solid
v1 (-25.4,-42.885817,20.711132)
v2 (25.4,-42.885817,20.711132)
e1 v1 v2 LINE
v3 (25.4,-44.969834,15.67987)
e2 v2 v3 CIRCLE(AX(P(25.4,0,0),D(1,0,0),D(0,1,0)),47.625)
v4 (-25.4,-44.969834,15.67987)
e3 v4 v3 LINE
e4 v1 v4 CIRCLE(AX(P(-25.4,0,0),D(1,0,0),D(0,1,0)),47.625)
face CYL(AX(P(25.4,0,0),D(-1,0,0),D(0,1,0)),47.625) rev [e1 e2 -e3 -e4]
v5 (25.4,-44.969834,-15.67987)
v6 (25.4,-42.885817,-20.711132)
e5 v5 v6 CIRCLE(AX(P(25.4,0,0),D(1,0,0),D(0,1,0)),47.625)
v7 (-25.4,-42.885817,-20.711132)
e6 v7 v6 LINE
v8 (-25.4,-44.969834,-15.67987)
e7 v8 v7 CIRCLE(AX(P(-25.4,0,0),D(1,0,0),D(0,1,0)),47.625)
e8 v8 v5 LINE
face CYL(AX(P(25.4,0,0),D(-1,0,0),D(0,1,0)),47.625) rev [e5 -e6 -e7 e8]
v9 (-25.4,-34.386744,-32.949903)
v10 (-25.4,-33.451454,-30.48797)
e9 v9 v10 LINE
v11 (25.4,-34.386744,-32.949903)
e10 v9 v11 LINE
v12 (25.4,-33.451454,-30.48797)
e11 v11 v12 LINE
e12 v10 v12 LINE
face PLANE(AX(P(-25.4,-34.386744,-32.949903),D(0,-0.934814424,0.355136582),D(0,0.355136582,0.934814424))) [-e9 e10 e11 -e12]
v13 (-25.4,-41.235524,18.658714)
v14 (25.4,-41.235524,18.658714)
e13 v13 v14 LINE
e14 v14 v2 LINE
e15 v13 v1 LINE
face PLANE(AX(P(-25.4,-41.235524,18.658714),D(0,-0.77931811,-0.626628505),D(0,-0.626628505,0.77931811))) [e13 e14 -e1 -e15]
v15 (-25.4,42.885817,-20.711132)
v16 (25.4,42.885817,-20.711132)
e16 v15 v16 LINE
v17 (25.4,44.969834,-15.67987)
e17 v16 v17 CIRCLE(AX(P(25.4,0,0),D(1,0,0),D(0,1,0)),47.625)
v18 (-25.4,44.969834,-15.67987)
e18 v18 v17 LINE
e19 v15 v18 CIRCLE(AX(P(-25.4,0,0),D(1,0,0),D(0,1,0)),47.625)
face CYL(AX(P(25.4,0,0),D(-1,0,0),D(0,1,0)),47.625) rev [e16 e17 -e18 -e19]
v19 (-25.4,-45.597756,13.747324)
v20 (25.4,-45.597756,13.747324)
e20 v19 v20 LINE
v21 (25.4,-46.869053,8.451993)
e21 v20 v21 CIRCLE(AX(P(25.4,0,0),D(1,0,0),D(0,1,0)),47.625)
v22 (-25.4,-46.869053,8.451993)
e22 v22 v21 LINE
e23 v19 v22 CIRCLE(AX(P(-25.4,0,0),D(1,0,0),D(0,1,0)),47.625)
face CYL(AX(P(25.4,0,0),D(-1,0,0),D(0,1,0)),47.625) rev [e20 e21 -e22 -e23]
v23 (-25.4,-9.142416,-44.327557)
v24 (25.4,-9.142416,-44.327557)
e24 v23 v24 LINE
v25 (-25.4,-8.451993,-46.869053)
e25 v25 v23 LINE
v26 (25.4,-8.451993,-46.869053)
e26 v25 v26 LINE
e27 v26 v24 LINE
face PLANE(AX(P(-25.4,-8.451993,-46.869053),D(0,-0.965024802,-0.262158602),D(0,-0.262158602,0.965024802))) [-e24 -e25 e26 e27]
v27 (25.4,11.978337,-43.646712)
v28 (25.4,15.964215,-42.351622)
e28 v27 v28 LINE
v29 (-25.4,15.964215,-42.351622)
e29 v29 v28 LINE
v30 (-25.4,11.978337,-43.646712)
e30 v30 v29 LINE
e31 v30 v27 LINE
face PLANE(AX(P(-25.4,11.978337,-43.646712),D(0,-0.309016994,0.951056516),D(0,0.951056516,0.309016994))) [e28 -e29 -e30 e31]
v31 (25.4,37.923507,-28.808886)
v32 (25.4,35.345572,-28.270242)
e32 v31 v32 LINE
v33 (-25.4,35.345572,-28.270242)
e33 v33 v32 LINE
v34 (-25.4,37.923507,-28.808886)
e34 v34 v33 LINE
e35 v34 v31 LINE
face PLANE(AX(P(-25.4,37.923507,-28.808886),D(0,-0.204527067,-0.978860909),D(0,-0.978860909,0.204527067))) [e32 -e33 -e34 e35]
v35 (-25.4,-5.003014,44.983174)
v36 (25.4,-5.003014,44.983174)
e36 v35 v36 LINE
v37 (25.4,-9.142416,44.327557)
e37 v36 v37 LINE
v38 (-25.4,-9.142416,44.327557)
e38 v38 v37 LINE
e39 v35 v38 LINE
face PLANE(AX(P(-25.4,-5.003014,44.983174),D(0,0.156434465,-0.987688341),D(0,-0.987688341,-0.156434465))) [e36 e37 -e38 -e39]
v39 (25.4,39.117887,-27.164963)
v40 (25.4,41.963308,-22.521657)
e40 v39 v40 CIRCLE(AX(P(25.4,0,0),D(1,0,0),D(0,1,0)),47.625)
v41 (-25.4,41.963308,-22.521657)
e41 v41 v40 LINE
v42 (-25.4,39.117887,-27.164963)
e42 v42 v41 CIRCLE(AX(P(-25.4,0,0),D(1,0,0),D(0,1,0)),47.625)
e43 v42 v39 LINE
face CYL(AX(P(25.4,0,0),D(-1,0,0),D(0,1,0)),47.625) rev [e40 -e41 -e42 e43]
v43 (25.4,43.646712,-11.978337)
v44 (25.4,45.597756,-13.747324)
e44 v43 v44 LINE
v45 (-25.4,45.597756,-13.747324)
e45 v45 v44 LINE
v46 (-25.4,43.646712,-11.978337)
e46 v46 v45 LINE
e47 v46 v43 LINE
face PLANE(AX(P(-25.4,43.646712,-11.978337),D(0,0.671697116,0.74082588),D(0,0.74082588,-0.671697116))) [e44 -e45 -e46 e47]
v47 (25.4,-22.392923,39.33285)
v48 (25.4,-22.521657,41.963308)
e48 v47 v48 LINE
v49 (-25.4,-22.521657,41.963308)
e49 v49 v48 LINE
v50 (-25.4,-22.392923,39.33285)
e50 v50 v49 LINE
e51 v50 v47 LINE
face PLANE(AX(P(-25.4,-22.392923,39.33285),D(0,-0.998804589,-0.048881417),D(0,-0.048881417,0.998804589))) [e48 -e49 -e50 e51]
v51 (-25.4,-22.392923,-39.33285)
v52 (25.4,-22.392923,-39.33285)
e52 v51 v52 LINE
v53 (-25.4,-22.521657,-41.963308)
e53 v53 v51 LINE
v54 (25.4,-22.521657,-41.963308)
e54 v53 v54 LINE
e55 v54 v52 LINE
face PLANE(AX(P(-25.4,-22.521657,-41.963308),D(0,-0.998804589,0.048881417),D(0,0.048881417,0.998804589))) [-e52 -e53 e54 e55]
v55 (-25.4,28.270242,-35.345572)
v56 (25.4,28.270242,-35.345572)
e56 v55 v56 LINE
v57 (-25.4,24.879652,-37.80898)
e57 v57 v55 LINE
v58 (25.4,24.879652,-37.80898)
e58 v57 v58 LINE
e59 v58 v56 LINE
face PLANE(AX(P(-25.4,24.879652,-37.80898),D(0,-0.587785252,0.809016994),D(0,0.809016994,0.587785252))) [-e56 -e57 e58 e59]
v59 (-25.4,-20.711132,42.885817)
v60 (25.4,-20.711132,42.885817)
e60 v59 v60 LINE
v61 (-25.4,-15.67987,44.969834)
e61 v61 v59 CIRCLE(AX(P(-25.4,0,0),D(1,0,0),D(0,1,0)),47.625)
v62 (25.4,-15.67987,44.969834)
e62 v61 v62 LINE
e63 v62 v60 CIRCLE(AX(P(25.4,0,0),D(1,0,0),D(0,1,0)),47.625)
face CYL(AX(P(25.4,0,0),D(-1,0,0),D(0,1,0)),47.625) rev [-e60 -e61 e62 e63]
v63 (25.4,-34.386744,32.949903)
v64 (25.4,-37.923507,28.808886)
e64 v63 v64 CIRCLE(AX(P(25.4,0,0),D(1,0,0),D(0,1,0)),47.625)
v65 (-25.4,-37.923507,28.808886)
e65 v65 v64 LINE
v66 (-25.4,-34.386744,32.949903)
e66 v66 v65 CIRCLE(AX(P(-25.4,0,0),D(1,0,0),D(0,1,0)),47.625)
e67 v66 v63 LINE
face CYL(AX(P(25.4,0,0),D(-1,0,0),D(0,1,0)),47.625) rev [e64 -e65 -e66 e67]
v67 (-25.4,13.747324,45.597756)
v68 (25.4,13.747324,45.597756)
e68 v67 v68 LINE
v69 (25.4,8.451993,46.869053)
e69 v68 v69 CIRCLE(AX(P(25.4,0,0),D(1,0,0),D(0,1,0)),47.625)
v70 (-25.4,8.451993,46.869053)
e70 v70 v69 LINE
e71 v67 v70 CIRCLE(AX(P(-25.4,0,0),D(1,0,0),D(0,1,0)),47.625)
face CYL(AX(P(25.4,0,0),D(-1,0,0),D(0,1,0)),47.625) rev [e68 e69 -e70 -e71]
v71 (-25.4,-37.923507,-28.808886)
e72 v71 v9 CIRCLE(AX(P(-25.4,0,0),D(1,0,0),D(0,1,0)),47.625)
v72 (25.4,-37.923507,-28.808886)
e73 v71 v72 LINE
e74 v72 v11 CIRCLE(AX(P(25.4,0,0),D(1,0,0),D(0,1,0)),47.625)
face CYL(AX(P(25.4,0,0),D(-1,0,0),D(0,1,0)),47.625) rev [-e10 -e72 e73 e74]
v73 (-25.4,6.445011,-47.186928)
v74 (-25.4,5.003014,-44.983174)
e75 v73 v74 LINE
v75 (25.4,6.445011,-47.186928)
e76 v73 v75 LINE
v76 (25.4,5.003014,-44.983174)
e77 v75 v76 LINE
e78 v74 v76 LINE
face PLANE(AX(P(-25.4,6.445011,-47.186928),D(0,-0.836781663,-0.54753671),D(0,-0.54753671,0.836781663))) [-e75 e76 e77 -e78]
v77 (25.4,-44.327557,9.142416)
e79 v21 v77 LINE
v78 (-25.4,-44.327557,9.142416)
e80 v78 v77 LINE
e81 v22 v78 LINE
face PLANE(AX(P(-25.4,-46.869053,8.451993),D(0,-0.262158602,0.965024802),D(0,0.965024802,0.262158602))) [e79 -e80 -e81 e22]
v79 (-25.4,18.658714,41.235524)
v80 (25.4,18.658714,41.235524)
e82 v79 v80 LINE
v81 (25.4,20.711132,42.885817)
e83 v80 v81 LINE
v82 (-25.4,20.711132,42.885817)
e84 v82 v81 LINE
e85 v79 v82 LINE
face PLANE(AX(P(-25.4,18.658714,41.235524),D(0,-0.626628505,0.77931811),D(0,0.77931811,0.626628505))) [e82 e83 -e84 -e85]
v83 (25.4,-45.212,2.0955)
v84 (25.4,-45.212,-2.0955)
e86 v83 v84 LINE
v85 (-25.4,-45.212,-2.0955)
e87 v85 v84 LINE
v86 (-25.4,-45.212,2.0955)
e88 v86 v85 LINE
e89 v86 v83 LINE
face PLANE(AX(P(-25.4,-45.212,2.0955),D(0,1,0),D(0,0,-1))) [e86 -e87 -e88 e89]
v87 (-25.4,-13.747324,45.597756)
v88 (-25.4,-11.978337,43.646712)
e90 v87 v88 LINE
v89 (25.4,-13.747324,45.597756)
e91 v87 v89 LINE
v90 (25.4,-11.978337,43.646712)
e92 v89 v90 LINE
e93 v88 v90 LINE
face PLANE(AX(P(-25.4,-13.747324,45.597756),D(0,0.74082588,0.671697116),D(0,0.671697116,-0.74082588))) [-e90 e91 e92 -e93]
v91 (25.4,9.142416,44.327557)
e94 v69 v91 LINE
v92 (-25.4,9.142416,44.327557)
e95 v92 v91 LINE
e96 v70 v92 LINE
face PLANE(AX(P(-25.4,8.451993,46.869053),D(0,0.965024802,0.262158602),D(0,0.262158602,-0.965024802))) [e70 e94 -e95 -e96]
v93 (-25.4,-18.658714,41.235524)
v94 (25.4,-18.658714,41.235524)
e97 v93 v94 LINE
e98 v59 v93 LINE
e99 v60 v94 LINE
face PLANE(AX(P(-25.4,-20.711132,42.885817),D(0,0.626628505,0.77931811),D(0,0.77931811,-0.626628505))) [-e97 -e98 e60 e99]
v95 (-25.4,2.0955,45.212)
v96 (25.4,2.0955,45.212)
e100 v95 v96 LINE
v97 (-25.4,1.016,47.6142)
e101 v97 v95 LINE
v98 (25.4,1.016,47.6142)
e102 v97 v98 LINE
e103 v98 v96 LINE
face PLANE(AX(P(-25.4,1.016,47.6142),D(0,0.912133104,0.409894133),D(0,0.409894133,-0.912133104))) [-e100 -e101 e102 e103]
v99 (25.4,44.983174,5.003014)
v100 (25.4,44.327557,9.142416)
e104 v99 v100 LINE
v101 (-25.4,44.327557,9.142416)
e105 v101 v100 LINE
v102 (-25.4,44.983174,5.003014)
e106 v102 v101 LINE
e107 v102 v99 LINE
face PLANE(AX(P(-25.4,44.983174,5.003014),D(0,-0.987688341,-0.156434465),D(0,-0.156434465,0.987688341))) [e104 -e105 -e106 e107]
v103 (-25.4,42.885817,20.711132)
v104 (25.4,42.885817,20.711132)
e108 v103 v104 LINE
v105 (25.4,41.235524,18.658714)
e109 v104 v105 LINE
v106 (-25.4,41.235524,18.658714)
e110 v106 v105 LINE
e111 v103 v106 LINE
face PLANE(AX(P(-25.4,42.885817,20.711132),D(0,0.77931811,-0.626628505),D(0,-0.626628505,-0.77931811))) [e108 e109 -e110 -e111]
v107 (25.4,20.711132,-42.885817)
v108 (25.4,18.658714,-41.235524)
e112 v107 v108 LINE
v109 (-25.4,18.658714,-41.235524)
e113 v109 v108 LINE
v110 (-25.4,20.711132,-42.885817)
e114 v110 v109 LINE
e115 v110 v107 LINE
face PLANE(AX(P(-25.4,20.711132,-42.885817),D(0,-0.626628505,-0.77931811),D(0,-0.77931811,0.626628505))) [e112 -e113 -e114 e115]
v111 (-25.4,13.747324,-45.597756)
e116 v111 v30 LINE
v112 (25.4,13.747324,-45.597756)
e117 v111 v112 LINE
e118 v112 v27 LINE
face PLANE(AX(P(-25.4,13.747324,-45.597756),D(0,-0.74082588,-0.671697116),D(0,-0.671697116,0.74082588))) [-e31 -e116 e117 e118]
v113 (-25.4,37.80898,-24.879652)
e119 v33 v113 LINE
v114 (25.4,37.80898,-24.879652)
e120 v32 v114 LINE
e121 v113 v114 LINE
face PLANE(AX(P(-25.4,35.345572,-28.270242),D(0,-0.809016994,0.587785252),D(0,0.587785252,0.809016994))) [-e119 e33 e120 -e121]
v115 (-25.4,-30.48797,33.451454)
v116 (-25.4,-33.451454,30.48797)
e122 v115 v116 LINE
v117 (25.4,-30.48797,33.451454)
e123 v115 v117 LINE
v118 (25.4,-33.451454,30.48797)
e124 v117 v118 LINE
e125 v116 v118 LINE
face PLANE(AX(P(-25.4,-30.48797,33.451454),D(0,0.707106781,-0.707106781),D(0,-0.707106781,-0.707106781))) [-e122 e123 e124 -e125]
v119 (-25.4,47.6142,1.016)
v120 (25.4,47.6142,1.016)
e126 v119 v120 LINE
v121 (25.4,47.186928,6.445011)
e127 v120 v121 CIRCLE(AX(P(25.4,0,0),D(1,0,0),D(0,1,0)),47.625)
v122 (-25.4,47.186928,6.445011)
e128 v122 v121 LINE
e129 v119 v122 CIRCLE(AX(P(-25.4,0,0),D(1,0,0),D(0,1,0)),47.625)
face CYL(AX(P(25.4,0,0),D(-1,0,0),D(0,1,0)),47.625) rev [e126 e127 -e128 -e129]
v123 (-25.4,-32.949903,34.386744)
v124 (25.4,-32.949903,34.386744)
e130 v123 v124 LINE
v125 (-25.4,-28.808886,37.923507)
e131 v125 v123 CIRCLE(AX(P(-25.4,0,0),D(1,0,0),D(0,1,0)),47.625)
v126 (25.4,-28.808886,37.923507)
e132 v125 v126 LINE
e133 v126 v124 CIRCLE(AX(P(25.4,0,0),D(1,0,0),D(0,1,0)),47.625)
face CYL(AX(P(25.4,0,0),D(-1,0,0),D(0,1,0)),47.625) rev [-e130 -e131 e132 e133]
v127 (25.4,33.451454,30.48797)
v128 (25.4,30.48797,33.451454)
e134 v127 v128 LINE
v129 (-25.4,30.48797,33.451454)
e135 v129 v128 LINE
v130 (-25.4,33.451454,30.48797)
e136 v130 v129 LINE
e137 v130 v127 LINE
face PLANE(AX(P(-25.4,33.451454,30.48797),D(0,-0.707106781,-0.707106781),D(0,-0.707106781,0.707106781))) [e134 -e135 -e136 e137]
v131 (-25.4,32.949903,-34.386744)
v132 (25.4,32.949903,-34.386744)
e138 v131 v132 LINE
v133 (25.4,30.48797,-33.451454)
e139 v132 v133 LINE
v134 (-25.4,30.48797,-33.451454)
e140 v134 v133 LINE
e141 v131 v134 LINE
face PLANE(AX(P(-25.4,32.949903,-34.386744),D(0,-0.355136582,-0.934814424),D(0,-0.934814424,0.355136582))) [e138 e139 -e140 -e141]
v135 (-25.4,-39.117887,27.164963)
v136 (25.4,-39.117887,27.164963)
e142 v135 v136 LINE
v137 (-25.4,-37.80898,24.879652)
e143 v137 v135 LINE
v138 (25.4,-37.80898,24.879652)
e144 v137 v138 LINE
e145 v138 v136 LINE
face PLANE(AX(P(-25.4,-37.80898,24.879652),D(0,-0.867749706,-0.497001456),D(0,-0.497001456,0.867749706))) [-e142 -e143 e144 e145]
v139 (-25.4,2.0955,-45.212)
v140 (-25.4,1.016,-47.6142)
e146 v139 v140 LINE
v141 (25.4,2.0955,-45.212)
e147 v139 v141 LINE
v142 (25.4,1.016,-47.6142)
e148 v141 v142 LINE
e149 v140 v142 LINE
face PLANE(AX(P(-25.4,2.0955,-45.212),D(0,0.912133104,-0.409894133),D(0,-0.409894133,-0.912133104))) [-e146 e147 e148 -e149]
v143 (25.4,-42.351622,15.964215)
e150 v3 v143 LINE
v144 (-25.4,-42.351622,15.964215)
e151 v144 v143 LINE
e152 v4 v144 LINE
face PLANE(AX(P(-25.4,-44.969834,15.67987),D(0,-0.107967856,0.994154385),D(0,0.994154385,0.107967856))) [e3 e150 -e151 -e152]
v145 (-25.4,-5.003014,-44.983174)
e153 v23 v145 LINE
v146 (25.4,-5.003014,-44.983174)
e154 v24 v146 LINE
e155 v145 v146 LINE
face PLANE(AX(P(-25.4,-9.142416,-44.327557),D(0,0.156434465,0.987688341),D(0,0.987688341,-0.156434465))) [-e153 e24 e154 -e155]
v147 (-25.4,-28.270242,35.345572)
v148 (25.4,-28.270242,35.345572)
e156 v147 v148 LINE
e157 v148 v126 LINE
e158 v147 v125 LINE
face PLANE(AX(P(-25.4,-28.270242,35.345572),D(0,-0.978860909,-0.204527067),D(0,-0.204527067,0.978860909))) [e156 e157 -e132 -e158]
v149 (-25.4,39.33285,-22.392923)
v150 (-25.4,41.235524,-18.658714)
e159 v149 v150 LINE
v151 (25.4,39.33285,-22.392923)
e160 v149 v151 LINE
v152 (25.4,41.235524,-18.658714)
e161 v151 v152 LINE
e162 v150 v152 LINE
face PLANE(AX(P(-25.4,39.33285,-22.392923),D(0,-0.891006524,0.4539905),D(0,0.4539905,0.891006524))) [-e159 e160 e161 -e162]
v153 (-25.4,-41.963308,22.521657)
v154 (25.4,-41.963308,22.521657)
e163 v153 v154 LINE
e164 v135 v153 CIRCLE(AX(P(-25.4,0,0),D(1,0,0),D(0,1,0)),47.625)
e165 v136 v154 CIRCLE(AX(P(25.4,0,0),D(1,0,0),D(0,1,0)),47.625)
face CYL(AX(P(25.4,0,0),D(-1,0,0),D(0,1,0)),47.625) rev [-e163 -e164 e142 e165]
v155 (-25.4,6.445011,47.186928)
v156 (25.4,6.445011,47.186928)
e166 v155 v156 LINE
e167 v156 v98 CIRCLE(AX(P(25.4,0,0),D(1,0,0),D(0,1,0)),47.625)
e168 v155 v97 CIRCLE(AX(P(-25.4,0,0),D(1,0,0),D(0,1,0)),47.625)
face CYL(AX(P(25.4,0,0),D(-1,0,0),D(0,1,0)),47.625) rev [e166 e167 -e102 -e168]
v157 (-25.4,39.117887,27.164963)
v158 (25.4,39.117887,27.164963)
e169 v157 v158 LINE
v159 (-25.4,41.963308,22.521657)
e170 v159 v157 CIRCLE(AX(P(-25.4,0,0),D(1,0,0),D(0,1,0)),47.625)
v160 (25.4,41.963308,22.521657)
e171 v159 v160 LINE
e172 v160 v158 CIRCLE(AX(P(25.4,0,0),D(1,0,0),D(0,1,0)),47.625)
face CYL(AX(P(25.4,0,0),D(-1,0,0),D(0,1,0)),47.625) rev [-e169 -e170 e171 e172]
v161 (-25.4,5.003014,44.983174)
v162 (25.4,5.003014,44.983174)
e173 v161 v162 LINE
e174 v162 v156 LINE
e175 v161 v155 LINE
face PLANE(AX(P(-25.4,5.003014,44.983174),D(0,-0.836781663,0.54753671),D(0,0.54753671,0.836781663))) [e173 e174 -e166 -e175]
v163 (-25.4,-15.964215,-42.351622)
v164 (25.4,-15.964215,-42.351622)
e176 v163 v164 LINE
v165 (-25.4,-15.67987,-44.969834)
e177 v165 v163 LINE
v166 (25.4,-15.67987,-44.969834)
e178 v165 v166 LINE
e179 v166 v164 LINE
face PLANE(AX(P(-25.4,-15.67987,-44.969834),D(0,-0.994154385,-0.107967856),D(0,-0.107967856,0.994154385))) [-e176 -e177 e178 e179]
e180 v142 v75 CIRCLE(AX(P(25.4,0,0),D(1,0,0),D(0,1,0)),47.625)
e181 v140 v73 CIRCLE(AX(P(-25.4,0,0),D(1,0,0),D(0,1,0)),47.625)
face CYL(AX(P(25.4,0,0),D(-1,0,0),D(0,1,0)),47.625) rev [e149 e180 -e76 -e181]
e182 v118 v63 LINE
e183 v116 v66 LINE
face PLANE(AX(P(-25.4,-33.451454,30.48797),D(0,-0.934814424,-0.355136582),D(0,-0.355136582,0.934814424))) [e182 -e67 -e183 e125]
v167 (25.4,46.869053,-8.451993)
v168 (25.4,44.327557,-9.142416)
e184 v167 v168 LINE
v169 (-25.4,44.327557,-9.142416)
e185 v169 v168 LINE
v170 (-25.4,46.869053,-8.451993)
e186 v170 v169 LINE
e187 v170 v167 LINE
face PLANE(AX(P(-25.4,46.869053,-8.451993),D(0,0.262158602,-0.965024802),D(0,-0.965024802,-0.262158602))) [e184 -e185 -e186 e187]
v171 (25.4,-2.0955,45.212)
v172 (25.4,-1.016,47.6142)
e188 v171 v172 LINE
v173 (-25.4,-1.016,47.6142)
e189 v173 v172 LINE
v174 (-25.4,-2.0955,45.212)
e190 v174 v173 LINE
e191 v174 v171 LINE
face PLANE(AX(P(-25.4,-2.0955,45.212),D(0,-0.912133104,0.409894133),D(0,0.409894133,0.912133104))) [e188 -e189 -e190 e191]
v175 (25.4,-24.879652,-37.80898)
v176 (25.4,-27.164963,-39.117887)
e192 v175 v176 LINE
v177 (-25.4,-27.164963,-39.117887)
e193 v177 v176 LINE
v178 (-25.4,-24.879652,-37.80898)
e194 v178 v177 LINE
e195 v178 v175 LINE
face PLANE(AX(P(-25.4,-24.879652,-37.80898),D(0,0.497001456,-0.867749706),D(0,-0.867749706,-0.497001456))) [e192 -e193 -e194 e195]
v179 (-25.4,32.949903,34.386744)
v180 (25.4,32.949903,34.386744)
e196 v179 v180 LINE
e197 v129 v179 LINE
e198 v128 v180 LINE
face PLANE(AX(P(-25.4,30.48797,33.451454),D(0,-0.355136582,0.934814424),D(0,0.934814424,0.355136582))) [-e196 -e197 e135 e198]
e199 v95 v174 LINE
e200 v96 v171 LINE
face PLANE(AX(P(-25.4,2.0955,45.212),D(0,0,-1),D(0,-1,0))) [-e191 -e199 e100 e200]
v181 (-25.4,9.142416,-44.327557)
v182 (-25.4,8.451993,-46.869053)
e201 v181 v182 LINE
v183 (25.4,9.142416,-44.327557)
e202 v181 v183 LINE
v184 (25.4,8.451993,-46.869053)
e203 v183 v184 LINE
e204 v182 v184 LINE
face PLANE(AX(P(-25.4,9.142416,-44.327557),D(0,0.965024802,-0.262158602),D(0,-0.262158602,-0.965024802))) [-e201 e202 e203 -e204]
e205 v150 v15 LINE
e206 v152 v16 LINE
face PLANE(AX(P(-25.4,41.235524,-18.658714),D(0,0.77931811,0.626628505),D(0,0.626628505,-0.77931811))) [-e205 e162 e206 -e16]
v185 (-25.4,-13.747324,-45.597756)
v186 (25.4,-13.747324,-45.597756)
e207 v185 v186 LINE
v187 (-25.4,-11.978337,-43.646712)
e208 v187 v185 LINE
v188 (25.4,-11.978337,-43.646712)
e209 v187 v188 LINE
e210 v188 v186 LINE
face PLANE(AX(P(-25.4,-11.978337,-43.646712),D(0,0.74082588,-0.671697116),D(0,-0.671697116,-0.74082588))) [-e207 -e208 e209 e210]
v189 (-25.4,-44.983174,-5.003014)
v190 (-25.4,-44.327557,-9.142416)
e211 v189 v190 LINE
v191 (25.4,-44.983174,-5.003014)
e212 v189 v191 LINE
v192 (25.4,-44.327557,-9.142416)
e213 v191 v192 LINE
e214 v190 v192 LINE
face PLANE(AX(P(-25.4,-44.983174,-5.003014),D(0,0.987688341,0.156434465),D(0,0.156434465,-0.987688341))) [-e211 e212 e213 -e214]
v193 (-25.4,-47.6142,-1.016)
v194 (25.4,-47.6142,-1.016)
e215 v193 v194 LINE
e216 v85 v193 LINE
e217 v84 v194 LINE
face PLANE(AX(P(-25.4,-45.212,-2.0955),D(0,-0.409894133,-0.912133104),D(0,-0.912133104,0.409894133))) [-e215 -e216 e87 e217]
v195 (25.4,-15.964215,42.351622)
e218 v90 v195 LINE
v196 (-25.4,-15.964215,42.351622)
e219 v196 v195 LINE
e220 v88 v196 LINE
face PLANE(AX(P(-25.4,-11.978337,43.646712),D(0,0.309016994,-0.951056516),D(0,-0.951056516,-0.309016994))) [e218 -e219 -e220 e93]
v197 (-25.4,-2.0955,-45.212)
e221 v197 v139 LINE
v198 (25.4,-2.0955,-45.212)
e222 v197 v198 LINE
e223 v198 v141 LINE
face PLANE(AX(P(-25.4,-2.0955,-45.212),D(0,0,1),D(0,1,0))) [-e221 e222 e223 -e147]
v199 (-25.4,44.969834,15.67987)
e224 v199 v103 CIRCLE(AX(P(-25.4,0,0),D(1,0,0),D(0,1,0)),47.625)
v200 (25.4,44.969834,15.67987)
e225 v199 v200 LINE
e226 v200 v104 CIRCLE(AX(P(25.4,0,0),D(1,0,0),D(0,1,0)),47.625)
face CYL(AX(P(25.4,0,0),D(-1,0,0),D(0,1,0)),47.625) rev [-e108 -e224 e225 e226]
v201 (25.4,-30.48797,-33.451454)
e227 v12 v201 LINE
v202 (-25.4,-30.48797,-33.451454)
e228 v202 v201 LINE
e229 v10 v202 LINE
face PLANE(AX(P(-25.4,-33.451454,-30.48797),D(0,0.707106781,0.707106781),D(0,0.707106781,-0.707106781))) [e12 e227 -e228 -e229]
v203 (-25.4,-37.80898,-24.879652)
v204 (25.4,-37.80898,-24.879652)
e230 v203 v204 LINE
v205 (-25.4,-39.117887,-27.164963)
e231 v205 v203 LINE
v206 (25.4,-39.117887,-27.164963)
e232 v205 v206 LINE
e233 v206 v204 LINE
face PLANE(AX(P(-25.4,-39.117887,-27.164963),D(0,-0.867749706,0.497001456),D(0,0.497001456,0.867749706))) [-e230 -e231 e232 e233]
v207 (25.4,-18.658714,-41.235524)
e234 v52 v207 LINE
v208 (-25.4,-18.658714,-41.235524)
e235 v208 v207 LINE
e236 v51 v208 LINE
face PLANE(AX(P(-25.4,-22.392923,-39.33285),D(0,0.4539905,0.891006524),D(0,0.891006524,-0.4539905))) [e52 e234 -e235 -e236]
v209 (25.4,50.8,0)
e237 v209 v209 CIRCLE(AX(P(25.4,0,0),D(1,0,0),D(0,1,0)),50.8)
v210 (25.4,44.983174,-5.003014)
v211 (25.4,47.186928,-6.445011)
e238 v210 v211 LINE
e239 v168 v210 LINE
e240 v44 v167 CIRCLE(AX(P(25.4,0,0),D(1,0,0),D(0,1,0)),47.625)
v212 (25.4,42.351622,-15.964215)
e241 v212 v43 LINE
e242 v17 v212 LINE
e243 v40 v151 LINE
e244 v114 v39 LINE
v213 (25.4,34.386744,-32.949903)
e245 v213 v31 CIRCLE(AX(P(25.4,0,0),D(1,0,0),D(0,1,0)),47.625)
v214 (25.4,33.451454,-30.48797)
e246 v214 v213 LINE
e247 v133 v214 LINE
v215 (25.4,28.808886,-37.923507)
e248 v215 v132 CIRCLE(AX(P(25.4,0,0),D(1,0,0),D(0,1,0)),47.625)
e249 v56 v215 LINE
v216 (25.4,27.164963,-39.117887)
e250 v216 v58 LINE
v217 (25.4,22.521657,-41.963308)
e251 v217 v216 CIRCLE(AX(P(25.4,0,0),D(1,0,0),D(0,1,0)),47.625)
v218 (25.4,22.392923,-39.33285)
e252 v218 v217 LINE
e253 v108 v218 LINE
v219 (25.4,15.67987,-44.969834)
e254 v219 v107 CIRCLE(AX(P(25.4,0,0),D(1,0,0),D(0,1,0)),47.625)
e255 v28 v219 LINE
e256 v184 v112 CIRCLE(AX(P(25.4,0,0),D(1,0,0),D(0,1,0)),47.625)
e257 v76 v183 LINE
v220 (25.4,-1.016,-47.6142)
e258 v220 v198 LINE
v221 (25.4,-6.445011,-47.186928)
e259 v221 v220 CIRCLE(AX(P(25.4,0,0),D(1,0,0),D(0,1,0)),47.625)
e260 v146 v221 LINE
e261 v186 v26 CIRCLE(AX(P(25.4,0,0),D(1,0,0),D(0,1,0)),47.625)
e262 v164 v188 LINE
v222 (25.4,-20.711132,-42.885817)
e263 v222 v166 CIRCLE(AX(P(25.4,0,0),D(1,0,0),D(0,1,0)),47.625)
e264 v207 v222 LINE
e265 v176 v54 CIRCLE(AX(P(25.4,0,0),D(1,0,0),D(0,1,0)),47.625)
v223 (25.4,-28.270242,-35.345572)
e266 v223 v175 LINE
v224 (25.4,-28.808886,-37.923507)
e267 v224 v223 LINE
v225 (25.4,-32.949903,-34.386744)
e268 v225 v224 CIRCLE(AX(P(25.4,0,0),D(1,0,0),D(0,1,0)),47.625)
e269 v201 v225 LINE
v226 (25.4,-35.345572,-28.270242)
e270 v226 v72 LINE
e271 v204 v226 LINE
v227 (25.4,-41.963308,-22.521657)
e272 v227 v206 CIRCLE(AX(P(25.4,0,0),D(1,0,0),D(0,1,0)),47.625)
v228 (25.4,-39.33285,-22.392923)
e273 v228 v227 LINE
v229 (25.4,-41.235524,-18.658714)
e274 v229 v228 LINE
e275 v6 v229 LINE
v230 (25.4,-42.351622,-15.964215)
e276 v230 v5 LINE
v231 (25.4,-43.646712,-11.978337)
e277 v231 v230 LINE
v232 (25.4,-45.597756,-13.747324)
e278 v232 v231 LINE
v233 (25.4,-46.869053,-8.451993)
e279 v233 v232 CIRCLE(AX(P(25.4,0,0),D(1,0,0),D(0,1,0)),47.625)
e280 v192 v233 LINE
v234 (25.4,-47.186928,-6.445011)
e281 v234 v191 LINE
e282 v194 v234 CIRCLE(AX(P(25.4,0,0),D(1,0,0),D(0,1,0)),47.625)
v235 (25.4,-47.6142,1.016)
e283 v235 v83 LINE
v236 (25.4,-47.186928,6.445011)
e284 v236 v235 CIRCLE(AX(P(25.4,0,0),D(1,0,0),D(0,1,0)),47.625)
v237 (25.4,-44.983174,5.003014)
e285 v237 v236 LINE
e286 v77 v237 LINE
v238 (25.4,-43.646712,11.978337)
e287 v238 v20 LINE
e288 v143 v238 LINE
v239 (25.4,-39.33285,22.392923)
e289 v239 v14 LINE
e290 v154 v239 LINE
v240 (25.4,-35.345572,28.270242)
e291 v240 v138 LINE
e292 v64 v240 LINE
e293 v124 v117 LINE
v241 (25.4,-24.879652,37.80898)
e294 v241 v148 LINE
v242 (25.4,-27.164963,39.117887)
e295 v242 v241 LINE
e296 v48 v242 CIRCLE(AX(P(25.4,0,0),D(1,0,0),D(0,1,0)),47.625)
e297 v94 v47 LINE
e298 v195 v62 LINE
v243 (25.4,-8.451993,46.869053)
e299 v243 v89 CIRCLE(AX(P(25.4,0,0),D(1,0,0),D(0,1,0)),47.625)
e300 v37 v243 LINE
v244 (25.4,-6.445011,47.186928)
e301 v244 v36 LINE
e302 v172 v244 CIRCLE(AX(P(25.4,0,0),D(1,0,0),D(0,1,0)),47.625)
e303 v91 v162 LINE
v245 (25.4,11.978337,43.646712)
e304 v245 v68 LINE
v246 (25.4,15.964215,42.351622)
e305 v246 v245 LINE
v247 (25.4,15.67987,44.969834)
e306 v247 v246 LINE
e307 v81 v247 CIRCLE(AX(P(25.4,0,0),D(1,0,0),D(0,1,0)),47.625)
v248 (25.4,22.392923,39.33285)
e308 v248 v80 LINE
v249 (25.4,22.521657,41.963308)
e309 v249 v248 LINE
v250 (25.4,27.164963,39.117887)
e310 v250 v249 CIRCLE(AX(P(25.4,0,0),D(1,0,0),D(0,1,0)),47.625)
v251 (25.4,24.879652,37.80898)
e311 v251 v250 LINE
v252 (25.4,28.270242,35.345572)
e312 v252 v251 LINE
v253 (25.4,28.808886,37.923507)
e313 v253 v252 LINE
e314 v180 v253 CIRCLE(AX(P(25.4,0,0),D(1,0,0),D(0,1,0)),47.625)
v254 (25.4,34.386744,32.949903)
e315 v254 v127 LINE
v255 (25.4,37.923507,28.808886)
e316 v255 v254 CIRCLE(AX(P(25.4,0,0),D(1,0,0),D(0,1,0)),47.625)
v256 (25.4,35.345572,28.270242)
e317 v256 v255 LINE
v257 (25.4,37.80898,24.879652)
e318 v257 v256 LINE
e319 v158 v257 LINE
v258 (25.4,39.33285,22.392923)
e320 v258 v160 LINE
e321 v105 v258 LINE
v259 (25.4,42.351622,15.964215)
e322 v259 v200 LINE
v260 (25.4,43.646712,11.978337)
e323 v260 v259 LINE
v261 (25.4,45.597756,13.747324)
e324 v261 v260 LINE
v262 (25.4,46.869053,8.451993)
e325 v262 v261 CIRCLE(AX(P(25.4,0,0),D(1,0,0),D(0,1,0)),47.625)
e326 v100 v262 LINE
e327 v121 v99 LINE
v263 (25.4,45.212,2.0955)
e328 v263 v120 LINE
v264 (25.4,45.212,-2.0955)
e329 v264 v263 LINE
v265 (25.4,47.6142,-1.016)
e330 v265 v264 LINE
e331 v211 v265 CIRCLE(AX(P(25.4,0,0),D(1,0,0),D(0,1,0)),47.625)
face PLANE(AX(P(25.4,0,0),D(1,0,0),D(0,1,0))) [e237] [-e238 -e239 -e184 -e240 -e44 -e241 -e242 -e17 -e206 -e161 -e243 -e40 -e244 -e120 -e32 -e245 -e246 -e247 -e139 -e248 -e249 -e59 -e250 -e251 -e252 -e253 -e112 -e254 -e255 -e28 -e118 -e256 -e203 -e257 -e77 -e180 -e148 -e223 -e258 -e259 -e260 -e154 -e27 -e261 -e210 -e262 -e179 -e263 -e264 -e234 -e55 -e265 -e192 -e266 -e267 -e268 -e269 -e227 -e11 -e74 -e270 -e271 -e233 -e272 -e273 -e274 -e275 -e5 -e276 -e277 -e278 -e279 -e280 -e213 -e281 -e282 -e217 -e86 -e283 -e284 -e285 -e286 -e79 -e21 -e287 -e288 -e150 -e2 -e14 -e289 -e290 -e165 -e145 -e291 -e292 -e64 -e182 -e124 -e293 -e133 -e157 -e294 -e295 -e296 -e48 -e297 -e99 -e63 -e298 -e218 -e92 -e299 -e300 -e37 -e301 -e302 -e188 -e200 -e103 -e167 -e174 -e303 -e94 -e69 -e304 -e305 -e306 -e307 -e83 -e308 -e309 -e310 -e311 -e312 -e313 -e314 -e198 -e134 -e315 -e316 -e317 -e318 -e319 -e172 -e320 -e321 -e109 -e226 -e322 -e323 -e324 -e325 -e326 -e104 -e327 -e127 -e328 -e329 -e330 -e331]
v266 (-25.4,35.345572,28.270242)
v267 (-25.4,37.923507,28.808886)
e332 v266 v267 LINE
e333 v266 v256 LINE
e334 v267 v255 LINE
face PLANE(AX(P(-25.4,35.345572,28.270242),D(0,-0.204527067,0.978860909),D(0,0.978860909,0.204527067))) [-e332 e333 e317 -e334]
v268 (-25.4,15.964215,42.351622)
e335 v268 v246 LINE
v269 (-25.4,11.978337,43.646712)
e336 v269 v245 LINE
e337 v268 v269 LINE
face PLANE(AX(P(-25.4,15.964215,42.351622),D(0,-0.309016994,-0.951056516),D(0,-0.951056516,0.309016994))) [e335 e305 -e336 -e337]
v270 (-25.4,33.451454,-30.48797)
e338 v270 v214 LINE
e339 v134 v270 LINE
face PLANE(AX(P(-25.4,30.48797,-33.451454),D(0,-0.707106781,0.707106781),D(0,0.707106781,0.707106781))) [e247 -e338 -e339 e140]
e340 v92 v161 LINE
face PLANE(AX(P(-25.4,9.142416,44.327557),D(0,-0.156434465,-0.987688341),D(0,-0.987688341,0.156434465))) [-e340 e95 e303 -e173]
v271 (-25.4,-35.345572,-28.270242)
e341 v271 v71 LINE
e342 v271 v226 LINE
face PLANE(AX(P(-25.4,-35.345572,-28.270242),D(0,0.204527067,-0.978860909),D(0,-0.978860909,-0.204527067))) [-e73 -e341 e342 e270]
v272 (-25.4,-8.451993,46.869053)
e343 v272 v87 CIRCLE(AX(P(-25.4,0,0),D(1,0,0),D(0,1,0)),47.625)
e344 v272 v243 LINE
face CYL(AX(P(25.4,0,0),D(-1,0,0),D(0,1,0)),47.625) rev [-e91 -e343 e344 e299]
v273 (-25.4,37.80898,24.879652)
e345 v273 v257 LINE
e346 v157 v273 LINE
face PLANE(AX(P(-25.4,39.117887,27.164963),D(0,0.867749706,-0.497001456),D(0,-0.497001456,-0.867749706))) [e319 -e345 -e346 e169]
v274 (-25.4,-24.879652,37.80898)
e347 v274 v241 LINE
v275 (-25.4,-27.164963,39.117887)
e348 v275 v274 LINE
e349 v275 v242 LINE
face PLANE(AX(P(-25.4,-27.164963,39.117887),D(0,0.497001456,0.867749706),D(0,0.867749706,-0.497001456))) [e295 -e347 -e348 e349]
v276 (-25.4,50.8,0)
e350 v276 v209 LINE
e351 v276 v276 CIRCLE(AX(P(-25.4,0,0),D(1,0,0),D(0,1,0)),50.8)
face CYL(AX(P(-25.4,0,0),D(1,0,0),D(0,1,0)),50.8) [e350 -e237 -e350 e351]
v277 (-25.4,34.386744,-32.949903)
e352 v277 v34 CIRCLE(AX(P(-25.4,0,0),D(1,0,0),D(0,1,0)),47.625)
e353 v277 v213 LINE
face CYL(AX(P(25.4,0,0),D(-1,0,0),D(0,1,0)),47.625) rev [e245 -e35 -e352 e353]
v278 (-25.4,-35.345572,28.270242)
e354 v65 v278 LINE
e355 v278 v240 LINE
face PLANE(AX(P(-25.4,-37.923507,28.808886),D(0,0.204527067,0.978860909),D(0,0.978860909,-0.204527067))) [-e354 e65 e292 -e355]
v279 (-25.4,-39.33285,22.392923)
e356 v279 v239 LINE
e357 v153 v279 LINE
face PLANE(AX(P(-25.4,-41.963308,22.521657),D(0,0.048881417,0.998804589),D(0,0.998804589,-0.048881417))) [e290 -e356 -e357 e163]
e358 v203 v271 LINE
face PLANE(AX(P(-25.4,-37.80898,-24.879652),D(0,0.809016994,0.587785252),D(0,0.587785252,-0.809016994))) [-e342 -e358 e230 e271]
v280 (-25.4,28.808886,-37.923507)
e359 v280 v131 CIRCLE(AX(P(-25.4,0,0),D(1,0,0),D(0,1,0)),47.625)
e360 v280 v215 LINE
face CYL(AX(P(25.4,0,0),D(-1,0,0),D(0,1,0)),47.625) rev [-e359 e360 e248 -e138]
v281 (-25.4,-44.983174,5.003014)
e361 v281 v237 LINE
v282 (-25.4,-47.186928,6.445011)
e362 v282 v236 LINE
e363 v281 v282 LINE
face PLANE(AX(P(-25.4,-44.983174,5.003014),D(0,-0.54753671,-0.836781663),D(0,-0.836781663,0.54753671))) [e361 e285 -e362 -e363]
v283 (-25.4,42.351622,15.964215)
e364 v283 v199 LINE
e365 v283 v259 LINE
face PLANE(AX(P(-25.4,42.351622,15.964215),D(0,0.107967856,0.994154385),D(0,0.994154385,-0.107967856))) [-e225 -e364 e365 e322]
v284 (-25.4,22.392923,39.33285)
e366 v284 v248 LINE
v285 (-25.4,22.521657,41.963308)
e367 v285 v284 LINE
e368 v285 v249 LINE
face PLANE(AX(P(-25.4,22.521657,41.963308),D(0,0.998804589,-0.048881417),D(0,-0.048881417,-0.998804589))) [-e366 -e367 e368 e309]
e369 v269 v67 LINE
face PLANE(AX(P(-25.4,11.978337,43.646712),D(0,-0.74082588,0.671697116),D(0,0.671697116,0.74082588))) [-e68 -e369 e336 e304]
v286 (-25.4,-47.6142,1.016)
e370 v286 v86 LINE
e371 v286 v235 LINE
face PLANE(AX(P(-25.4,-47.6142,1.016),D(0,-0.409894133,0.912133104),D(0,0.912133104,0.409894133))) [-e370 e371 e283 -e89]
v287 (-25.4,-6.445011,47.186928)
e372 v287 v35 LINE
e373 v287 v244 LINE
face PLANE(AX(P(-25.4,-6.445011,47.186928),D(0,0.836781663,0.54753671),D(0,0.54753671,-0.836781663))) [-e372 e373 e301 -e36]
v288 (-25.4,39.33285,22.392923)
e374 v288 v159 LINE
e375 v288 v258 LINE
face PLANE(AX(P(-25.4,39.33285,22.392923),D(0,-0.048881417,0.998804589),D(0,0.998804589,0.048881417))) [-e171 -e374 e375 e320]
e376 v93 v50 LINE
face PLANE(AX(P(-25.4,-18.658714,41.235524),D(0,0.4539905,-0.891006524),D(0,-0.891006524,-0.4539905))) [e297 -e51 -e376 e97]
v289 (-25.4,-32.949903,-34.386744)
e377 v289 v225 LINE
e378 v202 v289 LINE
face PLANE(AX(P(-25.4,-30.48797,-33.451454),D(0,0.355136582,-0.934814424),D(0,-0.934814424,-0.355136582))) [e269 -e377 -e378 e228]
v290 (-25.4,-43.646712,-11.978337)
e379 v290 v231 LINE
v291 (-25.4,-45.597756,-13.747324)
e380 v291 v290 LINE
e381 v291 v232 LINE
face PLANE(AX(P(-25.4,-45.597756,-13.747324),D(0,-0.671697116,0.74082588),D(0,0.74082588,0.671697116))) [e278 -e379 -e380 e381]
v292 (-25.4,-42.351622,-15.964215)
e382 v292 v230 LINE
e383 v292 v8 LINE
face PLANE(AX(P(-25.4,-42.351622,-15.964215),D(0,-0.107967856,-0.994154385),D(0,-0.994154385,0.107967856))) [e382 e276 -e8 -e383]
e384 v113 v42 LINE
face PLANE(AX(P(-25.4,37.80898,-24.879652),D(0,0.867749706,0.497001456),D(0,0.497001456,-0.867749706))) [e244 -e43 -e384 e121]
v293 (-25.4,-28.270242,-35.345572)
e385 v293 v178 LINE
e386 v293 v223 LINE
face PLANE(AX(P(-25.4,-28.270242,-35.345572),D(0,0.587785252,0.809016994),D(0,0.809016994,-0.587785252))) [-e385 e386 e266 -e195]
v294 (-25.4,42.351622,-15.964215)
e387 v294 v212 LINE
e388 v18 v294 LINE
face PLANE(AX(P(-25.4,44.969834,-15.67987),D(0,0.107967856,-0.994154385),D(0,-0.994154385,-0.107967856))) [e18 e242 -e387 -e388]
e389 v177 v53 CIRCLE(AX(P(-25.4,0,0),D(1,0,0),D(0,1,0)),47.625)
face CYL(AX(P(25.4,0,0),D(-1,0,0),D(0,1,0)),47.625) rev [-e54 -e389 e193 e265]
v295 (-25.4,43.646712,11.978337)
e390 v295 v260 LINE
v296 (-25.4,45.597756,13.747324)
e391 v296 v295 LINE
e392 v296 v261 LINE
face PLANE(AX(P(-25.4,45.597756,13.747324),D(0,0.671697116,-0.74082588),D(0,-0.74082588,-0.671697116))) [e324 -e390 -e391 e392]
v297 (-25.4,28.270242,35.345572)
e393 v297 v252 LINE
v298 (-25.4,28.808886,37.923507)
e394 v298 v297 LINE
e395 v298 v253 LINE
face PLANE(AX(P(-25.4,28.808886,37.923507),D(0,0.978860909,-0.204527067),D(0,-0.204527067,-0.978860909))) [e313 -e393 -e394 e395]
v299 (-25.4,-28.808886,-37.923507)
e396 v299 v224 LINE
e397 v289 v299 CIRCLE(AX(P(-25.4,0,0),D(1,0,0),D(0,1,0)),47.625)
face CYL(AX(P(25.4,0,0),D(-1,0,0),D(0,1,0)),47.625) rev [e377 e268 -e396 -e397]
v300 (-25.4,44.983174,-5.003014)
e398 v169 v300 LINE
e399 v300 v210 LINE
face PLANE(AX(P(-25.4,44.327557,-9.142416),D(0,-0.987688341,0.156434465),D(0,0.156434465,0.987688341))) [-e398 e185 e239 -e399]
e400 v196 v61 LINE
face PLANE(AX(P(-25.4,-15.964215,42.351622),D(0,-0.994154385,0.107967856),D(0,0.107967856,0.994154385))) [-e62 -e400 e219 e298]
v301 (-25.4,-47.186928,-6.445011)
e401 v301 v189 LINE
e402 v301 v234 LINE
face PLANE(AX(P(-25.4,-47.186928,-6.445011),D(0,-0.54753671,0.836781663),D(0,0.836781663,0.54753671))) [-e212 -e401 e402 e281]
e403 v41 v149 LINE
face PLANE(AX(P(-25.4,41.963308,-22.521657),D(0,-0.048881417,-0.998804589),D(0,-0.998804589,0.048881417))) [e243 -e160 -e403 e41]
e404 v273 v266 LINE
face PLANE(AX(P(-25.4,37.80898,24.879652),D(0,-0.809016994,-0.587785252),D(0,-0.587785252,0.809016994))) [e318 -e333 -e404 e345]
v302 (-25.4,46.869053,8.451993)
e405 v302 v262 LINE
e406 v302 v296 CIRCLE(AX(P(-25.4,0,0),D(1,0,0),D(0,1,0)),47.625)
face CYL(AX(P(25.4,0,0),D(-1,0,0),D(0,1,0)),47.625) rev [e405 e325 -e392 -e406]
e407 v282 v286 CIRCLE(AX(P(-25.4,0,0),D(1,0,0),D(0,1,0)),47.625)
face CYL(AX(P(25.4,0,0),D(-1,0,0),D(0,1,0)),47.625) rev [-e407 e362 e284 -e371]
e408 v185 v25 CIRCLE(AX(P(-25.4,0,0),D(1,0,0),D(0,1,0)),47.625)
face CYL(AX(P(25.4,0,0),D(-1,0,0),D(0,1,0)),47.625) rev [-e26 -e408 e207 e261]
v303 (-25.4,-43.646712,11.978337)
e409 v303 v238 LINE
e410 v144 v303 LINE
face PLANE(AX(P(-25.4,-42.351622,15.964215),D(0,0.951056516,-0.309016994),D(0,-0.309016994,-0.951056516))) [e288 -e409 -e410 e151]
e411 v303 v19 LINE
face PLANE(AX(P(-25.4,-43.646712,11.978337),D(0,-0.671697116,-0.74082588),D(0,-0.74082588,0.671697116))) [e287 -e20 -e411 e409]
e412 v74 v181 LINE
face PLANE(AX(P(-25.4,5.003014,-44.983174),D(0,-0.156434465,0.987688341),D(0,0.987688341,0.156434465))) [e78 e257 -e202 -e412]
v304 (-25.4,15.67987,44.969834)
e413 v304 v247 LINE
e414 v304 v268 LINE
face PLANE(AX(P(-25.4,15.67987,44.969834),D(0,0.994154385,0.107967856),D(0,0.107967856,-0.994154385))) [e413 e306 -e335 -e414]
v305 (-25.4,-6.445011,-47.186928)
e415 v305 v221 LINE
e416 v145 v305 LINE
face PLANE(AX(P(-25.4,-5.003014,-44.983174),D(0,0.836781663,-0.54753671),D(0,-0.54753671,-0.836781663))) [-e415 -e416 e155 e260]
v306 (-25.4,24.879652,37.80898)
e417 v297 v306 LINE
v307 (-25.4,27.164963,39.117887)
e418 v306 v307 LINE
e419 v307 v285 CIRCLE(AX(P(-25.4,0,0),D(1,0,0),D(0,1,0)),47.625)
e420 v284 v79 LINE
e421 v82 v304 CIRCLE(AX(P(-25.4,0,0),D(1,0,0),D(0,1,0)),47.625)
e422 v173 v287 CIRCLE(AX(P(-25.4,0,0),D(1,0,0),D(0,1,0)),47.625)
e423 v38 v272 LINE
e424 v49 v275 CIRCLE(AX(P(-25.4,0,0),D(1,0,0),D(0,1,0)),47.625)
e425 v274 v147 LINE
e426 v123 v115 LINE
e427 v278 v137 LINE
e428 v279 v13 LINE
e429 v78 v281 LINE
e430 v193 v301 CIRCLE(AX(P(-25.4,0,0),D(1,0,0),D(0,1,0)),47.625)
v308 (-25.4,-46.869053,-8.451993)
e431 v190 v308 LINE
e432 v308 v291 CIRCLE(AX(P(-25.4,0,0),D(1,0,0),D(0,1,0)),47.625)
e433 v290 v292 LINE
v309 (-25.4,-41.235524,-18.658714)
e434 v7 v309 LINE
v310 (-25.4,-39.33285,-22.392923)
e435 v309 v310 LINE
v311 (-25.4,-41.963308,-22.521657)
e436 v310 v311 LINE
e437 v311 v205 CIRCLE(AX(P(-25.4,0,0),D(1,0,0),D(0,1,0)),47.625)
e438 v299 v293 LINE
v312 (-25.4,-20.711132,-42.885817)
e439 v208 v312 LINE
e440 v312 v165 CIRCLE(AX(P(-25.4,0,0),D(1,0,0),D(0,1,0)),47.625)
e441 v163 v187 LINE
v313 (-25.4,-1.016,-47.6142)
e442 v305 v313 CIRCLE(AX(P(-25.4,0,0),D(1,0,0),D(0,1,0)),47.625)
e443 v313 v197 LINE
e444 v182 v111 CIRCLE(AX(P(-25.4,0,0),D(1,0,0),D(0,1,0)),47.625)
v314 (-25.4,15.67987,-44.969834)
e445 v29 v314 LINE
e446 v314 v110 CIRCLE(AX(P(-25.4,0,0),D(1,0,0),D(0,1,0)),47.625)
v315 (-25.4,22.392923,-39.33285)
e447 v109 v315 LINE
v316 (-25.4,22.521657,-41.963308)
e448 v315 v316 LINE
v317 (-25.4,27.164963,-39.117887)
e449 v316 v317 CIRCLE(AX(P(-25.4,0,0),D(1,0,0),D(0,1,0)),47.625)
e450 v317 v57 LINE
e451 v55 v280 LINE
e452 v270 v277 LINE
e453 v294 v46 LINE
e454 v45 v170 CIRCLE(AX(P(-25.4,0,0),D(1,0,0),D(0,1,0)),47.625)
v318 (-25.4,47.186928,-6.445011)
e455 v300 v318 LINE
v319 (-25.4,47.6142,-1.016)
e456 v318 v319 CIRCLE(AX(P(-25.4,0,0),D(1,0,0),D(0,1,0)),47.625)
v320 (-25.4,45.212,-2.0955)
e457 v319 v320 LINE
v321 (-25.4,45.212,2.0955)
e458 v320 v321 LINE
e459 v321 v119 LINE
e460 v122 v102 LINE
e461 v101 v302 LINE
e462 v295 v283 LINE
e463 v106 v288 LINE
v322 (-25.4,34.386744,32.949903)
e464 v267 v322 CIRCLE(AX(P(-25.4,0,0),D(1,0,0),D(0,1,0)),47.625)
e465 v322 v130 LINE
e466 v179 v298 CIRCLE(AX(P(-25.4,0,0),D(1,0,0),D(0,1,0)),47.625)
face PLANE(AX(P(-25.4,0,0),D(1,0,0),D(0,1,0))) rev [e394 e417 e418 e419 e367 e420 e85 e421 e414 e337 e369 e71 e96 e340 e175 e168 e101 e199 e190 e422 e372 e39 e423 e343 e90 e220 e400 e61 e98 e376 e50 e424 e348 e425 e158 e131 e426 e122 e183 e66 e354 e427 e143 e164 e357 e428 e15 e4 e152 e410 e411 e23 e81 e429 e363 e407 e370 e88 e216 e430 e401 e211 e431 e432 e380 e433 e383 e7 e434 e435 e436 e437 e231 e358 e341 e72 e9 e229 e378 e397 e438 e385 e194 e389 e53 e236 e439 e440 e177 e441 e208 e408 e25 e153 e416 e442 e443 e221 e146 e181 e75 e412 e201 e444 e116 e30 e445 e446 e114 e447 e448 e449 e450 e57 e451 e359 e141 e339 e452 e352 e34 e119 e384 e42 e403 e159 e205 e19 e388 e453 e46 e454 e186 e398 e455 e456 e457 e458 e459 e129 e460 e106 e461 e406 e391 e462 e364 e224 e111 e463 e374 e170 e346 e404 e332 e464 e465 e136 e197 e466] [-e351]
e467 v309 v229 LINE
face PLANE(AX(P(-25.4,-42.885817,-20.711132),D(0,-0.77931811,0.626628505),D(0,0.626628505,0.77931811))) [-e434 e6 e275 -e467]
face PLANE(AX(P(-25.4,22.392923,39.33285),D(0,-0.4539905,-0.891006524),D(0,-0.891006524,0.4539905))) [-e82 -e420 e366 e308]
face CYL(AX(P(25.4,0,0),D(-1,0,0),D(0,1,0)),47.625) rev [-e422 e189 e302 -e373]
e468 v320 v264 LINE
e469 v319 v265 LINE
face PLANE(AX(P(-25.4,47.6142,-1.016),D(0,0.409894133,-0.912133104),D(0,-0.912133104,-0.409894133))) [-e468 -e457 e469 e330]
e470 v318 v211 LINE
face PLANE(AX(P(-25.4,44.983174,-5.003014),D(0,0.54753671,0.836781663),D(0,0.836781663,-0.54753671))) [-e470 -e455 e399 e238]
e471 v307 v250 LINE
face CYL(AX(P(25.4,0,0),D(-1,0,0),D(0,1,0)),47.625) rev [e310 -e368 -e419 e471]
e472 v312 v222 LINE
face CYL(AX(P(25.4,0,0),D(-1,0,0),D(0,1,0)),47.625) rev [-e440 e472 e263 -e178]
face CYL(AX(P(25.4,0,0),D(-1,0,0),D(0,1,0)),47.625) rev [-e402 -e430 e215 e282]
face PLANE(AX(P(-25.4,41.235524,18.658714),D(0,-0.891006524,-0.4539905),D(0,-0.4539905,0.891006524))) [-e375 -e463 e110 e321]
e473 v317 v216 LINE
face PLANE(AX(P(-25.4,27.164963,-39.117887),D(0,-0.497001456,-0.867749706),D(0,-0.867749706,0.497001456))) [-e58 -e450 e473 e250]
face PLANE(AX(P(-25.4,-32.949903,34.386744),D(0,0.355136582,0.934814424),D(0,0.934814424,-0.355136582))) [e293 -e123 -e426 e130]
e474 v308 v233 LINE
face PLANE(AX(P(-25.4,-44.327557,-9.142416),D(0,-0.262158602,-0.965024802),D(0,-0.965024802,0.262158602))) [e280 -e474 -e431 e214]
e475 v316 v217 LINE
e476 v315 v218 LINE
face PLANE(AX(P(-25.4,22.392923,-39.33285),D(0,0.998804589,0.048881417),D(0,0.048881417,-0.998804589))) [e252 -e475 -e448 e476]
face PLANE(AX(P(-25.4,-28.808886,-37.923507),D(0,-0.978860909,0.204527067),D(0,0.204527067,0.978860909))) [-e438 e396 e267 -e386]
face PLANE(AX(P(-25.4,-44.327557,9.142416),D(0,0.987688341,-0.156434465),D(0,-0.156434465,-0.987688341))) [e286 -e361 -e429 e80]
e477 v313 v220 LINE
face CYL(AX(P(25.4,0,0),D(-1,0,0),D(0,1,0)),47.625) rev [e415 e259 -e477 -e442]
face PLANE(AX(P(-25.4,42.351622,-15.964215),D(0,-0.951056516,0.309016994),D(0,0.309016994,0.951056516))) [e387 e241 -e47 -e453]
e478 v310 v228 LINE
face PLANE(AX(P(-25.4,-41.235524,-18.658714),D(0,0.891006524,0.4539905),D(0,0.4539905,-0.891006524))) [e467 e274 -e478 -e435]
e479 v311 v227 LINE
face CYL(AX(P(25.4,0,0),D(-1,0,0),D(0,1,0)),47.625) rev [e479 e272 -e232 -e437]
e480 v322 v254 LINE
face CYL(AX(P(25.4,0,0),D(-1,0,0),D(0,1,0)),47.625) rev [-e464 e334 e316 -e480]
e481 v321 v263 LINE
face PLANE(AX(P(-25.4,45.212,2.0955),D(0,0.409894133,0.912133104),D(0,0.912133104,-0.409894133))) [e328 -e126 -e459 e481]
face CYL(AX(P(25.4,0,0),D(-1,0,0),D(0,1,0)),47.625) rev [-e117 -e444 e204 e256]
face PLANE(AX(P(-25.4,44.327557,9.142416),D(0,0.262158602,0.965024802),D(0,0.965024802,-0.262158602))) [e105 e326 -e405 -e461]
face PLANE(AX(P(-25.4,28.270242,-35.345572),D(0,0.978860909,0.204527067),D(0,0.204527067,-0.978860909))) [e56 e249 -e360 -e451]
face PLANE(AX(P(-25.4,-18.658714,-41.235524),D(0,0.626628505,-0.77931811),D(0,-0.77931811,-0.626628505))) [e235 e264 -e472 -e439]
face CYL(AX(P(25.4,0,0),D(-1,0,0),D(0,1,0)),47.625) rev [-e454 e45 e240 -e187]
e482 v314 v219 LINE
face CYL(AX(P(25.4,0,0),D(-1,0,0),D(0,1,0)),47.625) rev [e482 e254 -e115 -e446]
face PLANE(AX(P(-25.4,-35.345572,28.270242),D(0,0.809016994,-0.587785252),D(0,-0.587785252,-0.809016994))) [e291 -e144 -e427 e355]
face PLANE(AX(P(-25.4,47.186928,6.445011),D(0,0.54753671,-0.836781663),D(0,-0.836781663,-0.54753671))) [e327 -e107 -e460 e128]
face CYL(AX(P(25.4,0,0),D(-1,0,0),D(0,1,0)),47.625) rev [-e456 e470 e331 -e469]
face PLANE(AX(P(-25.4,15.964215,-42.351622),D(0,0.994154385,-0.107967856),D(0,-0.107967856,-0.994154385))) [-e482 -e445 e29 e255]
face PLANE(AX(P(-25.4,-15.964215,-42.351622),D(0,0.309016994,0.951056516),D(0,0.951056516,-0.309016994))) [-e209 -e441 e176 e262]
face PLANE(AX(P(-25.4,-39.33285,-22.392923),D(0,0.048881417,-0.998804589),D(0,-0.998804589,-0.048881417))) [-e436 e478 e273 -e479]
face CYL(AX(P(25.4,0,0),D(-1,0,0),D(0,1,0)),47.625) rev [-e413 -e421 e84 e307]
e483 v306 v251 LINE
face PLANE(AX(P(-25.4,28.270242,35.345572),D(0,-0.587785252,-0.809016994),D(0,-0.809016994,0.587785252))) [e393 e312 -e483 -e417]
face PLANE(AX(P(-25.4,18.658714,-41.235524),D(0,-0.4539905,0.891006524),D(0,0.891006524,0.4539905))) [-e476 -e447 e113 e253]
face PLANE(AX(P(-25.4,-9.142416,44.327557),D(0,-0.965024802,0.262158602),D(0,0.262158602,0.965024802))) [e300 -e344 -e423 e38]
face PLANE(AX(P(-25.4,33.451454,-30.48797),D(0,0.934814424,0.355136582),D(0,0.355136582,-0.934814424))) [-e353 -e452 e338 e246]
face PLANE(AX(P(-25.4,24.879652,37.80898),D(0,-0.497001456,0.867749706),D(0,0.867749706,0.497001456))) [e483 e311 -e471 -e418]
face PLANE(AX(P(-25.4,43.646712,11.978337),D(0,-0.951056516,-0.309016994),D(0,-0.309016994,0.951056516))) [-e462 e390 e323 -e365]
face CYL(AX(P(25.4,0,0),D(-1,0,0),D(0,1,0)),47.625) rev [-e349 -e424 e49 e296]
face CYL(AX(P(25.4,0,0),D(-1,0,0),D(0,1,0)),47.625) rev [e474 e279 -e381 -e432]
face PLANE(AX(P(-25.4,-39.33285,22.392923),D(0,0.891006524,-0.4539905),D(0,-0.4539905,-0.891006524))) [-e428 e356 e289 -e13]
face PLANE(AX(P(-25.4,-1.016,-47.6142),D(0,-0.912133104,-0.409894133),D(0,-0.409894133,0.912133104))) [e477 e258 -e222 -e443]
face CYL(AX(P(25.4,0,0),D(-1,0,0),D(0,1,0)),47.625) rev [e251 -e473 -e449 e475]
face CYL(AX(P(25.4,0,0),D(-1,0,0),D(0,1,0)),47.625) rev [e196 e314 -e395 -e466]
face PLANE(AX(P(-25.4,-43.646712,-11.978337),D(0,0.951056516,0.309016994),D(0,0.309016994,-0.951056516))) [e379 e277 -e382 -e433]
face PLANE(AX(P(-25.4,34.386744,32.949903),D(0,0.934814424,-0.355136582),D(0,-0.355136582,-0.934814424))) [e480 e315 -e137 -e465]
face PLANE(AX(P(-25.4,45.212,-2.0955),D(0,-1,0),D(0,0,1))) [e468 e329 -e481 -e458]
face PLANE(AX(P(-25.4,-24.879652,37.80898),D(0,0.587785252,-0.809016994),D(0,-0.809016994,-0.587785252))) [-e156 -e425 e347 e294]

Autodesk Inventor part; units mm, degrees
ref_plane "YZ Plane" through (0, 0, 0) normal (1, 0, 0) x (0, 1, 0)
ref_plane "XZ Plane" through (0, 0, 0) normal (0, 1, 0) x (-1, 0, 0)
ref_plane "XY Plane" through (0, 0, 0) normal (0, 0, 1) x (1, 0, 0)
sketch "Sketch1" plane through (0, 0, 0) normal (0, 0, 1) x (1, 0, 0)
  line L0 (-25.4, 50.8) -> (25.4, 50.8)
  line L1 (25.4, 50.8) -> (25.4, 47.625)
  line L2 (25.4, 47.625) -> (-25.4, 47.625)
  line L3 (-25.4, 47.625) -> (-25.4, 50.8)
  line L4 (-35.56, 0) -> (35.56, 0) projected
  point P0 (0, 0)
  point P1 (0, 50.8)
  point P2 (0, 47.625)
  dimension "d0" = 101.6
  dimension "d1" = 3.175
  dimension "d2" = 50.8
revolve "Revolution1" add sketch "Sketch1" angle 360 about axis through (-10, 0, 0) along (1, 0, 0)
sketch "Sketch2" plane through (-25.4, 0, 0) normal (-1, 0, 0) x (0, 0, 1)
  circle A0 centre (0, 0) radius 47.625 projected
  line L0 (-1.016, 47.6142) -> (-2.0955, 45.212)
  line L1 (-2.0955, 45.212) -> (2.0955, 45.212)
  line L2 (2.0955, 45.212) -> (1.016, 47.6142)
  point P0 (0, 45.212)
  dimension "d4" = 4.191
  dimension "d5" = 2.032
  dimension "d6" = 2.413
extrude "Extrusion1" add sketch "Sketch2" against normal blind 50.8 contours L2 L1 L0 A0 picked at (0.1129, 46.0159)
pattern_circular "Circular Pattern1" count 40 over 360 about axis through (0, 0, 0) along (1, 0, 0) of "Extrusion1"
properties part number "CAST,FLYWHEEL,GRIP" material "Rubber"
